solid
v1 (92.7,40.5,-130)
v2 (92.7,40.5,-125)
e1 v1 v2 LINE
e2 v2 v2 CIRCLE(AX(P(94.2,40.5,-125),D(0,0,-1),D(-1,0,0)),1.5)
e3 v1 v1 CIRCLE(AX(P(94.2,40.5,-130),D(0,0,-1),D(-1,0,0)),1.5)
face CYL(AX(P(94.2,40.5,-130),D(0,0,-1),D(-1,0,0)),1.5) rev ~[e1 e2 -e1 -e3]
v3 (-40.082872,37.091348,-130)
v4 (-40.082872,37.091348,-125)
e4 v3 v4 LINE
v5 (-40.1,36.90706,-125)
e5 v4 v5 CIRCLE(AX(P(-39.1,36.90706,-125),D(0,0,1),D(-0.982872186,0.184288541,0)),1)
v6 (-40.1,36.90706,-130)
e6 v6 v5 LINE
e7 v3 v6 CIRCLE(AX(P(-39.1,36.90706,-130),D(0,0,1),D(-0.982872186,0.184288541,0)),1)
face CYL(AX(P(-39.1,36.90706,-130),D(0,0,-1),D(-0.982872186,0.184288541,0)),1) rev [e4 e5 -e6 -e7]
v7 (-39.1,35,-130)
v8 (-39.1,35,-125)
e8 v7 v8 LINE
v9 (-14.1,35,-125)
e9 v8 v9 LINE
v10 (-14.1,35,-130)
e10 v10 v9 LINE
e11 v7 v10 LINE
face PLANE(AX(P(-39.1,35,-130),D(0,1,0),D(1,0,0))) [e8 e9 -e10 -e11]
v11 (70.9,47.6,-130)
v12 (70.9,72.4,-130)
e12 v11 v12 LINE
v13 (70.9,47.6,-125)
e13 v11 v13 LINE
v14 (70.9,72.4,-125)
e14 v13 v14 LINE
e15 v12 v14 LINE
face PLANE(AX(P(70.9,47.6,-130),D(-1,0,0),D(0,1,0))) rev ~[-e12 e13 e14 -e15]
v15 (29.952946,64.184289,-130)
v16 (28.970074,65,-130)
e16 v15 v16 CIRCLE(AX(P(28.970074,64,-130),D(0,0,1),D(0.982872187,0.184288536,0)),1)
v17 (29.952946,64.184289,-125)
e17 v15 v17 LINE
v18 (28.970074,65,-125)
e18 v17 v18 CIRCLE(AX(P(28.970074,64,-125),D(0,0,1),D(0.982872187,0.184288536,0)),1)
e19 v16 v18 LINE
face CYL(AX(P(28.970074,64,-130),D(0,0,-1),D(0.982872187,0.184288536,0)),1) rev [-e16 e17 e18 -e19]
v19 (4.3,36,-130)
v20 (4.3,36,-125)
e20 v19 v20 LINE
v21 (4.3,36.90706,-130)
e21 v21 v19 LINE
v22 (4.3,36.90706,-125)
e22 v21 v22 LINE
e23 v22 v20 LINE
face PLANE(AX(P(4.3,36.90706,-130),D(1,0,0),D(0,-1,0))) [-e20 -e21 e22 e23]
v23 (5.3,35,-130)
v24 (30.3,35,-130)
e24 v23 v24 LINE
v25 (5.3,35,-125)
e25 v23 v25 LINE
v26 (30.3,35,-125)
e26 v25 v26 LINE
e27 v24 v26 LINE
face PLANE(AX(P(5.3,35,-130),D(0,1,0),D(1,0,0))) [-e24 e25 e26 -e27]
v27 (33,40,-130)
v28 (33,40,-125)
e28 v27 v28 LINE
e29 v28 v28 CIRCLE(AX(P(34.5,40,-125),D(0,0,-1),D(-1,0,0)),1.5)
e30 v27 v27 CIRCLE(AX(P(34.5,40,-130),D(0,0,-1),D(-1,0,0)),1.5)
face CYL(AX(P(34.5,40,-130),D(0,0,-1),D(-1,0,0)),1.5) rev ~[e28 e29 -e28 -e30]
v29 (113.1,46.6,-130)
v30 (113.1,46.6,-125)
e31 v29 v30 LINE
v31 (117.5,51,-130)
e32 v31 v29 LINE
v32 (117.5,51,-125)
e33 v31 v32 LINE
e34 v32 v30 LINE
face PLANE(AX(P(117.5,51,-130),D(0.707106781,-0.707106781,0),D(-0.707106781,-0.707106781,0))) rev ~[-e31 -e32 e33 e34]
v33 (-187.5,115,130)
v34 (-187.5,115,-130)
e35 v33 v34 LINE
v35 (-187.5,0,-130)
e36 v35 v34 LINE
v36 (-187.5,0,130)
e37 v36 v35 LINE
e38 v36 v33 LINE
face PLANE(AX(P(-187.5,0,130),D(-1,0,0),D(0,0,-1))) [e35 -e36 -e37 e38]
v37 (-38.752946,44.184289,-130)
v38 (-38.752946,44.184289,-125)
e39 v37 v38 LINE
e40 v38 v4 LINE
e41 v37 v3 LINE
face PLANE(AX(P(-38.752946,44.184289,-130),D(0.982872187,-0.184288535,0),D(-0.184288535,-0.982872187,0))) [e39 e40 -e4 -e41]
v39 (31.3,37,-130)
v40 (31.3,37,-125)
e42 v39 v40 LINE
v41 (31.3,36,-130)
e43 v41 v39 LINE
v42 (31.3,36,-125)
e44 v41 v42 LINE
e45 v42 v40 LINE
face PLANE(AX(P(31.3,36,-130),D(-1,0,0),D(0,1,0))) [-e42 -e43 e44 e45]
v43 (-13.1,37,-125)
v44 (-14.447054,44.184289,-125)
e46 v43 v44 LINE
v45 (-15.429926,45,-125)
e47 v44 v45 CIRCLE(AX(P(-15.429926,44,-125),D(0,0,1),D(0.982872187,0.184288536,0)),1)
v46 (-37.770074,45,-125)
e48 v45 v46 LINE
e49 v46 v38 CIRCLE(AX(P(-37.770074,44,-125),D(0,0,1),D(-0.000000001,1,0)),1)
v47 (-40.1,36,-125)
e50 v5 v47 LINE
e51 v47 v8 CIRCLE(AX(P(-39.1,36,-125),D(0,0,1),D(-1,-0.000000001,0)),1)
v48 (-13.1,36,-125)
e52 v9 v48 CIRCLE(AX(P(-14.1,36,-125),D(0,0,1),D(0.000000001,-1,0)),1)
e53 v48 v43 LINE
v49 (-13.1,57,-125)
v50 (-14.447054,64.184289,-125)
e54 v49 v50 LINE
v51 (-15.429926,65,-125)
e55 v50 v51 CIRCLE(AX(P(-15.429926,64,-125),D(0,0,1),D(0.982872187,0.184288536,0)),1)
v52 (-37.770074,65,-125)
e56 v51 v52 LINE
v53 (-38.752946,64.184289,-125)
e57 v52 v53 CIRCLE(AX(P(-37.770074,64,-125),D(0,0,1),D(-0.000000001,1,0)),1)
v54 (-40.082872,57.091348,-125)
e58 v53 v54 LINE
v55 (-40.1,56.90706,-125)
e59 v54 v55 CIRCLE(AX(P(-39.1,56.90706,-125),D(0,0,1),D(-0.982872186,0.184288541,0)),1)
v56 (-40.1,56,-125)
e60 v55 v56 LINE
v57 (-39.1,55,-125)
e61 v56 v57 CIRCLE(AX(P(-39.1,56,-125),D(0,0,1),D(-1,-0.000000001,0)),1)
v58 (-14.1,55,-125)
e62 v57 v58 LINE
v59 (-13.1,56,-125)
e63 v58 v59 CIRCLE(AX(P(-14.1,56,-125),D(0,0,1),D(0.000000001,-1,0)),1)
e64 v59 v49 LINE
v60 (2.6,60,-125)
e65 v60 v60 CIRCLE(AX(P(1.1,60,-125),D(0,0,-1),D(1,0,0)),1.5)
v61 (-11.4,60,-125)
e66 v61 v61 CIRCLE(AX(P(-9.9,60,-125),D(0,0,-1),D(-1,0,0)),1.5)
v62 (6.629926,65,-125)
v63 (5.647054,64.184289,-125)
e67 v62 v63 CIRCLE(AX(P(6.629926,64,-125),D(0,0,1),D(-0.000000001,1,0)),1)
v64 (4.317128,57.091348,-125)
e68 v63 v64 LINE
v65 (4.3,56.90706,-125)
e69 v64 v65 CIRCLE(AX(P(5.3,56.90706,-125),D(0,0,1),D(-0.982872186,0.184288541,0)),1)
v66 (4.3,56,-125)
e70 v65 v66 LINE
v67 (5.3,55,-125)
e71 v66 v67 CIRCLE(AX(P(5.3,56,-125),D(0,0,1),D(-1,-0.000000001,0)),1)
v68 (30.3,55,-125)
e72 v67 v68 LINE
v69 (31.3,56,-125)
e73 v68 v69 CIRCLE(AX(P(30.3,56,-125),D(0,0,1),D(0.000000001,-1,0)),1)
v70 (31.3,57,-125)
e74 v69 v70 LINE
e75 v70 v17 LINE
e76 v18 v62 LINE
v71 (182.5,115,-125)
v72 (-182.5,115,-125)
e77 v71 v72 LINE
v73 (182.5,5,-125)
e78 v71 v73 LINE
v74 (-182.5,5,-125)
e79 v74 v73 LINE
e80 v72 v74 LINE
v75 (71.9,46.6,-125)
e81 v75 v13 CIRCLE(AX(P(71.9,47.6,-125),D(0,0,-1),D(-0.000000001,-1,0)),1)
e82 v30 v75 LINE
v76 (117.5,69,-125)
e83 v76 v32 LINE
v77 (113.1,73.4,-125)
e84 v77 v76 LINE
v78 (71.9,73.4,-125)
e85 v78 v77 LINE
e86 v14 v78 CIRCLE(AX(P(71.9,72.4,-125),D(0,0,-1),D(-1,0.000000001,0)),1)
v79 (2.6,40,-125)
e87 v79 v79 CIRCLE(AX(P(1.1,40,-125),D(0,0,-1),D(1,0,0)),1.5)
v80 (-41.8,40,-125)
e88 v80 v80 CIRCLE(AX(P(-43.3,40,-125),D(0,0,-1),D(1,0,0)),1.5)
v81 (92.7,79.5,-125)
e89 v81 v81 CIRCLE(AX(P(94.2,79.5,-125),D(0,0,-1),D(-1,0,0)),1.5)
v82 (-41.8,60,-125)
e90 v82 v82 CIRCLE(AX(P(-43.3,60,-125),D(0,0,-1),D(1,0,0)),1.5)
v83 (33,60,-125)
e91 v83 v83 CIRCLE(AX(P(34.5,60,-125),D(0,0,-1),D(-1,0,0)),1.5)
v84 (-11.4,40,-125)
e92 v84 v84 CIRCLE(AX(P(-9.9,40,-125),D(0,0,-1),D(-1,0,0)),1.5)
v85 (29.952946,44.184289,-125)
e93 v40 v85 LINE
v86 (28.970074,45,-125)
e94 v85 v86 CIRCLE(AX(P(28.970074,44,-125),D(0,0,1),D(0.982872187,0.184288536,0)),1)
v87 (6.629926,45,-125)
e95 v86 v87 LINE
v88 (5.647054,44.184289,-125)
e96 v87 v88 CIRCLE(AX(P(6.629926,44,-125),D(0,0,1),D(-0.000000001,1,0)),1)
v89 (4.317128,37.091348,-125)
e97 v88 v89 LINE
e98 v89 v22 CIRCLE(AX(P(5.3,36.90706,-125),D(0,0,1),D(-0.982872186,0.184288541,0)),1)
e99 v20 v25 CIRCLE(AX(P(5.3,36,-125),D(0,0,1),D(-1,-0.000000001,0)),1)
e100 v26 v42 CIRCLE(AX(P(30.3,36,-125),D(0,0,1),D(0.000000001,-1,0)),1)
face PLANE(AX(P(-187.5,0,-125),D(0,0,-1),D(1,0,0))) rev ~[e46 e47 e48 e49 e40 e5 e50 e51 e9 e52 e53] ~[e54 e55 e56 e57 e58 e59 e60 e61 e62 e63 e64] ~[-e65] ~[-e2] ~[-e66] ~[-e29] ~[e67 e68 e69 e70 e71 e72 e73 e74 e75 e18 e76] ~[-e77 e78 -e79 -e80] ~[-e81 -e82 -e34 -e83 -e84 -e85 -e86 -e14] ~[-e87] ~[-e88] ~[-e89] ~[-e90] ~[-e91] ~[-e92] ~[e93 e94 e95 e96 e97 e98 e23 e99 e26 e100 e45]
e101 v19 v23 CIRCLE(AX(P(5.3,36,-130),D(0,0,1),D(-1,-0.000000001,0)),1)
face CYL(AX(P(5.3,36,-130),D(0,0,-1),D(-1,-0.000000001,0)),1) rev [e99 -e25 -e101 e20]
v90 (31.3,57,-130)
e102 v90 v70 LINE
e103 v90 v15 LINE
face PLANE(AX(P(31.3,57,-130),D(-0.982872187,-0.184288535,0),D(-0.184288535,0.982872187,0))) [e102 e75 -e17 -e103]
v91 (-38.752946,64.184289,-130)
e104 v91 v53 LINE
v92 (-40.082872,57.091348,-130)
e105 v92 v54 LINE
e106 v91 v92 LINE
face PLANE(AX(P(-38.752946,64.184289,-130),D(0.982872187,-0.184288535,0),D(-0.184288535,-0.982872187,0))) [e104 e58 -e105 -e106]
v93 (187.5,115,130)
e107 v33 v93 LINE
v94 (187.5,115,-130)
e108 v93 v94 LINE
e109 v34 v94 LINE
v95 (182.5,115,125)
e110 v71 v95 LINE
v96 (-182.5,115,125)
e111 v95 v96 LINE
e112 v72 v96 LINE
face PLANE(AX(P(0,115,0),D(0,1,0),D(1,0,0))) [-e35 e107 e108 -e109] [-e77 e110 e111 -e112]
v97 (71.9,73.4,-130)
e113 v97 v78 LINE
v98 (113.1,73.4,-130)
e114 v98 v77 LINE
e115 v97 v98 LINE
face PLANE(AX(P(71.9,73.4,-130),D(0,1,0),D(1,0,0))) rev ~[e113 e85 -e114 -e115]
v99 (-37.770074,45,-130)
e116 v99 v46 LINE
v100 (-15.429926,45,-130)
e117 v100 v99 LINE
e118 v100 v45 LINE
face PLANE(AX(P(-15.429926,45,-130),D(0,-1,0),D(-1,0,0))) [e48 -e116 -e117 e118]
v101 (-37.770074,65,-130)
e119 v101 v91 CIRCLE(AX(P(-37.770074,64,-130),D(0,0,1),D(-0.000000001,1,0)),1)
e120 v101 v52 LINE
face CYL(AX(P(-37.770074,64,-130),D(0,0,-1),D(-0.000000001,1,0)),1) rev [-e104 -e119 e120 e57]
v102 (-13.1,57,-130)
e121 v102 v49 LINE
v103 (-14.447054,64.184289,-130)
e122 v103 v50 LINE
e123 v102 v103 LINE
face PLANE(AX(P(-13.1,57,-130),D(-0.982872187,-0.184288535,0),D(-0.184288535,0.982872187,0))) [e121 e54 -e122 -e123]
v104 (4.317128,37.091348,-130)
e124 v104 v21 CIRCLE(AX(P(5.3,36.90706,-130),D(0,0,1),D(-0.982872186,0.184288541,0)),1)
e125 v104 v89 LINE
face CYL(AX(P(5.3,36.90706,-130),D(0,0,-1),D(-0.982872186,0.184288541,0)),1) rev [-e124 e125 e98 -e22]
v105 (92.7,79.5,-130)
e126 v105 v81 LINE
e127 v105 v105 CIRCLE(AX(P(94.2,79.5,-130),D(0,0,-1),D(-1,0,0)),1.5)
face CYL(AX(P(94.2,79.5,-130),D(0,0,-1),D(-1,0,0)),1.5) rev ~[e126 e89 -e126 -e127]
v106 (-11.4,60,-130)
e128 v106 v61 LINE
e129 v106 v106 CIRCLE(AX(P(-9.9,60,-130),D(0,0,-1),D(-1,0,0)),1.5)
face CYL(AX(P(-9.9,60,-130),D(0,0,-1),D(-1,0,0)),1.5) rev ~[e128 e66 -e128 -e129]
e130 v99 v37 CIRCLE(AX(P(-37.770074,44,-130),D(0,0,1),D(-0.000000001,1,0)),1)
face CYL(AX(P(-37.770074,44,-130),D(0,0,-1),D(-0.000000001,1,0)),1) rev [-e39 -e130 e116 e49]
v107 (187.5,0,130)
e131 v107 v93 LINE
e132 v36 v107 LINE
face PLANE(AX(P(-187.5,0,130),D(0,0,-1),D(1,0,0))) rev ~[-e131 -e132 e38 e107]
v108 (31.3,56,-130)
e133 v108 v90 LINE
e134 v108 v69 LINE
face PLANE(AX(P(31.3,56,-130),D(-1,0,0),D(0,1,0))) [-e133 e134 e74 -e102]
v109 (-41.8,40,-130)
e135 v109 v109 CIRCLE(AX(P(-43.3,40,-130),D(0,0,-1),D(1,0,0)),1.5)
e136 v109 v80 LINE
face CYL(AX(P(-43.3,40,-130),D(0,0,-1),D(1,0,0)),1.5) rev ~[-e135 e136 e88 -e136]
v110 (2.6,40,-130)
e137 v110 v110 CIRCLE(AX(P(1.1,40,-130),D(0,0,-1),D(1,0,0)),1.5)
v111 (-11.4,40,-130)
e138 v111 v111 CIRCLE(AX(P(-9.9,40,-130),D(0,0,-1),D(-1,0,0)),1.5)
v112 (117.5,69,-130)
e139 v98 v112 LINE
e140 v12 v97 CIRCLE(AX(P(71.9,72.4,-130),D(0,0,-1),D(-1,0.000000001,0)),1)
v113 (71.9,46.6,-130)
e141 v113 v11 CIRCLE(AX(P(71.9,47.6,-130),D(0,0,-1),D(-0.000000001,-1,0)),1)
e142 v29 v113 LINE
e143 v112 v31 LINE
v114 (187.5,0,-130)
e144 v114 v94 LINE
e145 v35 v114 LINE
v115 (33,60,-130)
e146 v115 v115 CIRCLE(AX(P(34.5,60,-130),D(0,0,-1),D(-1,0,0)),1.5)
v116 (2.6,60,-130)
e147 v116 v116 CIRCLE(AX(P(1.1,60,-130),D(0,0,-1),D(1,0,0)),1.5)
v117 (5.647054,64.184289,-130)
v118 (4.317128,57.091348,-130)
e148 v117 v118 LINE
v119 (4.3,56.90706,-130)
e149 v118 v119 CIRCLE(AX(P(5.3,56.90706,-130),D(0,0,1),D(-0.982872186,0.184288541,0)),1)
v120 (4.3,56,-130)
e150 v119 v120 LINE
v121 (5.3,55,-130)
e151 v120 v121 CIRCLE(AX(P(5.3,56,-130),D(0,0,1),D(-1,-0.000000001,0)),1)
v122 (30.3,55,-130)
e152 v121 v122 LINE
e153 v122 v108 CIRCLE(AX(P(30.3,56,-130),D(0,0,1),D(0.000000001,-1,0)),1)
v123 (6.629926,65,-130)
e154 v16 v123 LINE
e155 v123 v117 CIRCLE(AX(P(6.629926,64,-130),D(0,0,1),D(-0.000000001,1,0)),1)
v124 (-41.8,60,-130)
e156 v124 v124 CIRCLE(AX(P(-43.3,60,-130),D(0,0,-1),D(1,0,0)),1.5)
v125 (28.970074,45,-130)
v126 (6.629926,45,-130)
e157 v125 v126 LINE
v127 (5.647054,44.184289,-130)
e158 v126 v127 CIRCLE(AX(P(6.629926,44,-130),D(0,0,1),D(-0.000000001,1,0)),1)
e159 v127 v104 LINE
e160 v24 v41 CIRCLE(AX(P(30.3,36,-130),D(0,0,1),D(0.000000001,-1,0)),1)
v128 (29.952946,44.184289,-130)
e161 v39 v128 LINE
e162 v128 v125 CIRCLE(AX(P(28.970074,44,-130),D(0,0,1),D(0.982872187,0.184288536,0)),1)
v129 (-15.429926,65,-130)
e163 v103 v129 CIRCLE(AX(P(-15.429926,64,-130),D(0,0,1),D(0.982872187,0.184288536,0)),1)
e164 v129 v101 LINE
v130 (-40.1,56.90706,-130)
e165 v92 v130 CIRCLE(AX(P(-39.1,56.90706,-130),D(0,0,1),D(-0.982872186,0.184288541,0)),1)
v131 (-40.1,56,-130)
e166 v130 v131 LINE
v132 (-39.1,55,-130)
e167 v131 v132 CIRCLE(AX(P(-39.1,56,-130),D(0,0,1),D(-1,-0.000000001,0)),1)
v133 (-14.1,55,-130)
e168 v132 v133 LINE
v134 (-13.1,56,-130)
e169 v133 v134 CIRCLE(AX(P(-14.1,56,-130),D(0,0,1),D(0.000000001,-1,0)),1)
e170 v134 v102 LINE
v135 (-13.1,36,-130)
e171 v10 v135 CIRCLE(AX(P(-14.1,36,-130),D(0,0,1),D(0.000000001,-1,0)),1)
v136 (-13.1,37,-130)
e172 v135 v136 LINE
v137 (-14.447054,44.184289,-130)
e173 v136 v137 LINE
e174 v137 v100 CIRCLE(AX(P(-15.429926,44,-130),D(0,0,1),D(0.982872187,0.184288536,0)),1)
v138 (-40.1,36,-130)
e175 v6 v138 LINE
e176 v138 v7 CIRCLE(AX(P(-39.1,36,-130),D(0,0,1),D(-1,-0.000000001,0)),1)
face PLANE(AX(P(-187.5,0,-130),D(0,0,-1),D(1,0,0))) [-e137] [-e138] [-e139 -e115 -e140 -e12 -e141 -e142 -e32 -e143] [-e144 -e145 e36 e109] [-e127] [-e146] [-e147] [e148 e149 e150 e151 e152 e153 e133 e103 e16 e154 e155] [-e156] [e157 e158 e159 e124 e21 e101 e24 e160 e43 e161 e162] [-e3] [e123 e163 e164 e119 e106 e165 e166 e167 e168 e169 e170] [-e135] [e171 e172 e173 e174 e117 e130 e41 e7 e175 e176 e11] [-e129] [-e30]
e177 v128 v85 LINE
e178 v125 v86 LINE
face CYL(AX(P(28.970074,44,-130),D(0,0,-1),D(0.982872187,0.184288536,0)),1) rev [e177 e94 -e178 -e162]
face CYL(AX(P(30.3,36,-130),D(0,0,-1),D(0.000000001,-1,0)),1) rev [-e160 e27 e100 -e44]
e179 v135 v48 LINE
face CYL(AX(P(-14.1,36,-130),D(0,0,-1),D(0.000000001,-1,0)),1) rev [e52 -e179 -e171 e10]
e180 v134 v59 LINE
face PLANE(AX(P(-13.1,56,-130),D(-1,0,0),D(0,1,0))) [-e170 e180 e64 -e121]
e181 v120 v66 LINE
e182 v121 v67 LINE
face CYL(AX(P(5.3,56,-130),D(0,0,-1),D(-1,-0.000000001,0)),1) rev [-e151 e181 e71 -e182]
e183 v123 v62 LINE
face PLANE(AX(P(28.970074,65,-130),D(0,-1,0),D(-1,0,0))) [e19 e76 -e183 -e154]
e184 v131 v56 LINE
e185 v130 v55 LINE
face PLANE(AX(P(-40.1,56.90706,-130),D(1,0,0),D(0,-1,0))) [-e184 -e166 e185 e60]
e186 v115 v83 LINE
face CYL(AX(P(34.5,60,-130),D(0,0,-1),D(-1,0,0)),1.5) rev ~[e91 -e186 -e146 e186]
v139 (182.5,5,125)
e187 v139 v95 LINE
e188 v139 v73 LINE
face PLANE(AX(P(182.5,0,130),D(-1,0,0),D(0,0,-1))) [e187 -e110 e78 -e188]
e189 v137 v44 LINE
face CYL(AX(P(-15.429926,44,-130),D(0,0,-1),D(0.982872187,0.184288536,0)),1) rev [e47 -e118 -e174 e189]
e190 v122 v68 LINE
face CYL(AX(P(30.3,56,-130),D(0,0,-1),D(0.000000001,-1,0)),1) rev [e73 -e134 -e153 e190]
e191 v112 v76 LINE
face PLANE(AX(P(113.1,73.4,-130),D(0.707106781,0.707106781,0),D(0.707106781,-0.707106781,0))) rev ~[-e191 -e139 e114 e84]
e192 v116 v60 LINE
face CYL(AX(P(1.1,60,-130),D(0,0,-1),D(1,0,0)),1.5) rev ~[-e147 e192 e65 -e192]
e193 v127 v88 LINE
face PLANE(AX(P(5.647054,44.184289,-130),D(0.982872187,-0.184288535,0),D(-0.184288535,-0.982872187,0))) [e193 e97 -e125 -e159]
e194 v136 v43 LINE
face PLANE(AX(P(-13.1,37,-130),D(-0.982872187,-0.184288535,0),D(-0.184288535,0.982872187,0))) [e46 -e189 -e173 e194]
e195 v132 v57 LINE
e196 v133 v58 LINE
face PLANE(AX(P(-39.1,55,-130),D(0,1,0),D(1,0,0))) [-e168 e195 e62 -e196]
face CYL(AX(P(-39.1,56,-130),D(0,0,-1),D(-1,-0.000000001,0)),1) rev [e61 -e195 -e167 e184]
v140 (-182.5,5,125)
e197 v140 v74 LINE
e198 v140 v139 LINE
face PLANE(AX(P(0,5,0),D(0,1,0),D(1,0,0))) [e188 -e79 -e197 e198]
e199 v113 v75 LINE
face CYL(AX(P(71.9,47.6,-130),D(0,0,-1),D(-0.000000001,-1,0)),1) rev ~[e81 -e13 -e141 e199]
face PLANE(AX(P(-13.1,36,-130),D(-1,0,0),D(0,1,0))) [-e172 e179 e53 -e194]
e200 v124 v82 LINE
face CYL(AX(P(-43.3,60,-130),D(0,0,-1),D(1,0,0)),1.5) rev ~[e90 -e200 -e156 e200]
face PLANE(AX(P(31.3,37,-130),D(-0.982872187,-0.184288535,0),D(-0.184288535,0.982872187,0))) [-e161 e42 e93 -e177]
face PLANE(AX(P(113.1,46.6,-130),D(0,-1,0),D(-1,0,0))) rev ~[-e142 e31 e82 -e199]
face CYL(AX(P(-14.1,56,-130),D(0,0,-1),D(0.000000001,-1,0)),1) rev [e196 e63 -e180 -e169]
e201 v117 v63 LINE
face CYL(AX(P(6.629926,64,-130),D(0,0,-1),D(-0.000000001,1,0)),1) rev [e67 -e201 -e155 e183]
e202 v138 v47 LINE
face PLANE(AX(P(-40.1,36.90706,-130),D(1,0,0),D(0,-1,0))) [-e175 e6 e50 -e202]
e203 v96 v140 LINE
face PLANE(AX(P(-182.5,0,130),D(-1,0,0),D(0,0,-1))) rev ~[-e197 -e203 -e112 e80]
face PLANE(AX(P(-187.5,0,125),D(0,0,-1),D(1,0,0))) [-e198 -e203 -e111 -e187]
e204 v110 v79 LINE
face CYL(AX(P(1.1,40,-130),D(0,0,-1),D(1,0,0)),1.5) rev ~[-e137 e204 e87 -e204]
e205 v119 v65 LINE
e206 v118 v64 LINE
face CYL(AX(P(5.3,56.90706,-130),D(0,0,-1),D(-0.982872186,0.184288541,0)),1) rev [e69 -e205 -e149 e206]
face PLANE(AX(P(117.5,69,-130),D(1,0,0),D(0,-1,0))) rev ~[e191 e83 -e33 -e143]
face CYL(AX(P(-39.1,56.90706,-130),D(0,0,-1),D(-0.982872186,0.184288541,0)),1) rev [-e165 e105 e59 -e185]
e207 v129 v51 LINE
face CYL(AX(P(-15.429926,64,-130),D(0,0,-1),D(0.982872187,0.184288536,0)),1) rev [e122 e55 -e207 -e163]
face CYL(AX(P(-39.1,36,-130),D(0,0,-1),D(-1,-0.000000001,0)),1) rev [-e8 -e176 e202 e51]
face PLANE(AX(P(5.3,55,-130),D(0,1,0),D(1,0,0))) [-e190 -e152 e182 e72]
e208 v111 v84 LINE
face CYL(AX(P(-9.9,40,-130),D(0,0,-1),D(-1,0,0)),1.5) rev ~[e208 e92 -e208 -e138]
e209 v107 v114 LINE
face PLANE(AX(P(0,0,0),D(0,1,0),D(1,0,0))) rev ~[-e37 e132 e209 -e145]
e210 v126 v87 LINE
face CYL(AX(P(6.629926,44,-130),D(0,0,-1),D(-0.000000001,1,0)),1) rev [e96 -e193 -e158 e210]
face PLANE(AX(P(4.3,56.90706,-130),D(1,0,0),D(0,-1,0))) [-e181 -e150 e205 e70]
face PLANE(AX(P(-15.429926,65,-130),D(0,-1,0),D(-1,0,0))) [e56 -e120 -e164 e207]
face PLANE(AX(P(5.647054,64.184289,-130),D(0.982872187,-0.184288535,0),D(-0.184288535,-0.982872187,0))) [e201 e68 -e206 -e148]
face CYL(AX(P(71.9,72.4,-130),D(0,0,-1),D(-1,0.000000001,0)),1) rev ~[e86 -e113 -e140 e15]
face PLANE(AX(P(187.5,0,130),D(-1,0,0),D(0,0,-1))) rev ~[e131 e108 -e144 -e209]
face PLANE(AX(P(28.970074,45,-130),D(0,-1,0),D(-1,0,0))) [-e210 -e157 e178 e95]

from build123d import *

# Parameters (mm, degrees)
SKETCH_1_W          = 375
SKETCH_1_H          = 260
EXTRUDE_1_DEPTH     = 115
SHELL_1_T           = -5
SKETCH_2_R          = 1.5
CUT_EXTRUDE_1_DEPTH = 5


with BuildPart() as part:
    # Эскиз1 → Бобышка-Вытянуть1 (new body)
    with BuildSketch(Plane(origin=(0, 0, 0), x_dir=(1, 0, 0), z_dir=(0, 1, 0))):
        Rectangle(SKETCH_1_W, SKETCH_1_H)
    extrude(amount=EXTRUDE_1_DEPTH)

    # Оболочка1
    shell_1_openings = [part.faces().sort_by_distance(p)[0] for p in [
        (0, 115, 0),
    ]]
    offset(amount=SHELL_1_T, openings=shell_1_openings, kind=Kind.INTERSECTION)

    # Эскиз2 → Вырез-Вытянуть1 (cut)
    with BuildSketch(Plane(origin=(0, 0, -130), x_dir=(-1, 0, 0), z_dir=(0, 0, -1))):
        with Locations((-34.5, 60)):
            Circle(SKETCH_2_R)
        with Locations(Location((-1.1, 60, 0), (0, 0, 180))):
            Circle(SKETCH_2_R)
        with Locations((9.9, 60)):
            Circle(SKETCH_2_R)
        with Locations(Location((43.3, 60, 0), (0, 0, 180))):
            Circle(SKETCH_2_R)
        with Locations((-34.5, 40)):
            Circle(SKETCH_2_R)
        with Locations(Location((-1.1, 40, 0), (0, 0, 180))):
            Circle(SKETCH_2_R)
        with Locations((9.9, 40)):
            Circle(SKETCH_2_R)
        with Locations(Location((43.3, 40, 0), (0, 0, 180))):
            Circle(SKETCH_2_R)
        with Locations((-94.2, 40.5)):
            Circle(SKETCH_2_R)
        with Locations((-94.2, 79.5)):
            Circle(SKETCH_2_R)
        with BuildLine():
            Line((-31.3, 57), (-29.9529459, 64.184288535))
            ThreePointArc((-29.9529459, 64.184288535), (-29.60870955, 64.769509108), (-28.970073713, 65))
            Line((-28.970073713, 65), (-6.629926287, 65))
            ThreePointArc((-6.629926287, 65), (-5.99129045, 64.769509108), (-5.6470541, 64.184288535))
            Line((-5.6470541, 64.184288535), (-4.317127813, 57.091348336))
            ThreePointArc((-4.317127813, 57.091348336), (-4.30429116, 56.999601179), (-4.3, 56.907059801))
            Line((-4.3, 56.907059801), (-4.3, 56))
            ThreePointArc((-4.3, 56), (-4.592893219, 55.292893219), (-5.3, 55))
            Line((-5.3, 55), (-30.3, 55))
            ThreePointArc((-30.3, 55), (-31.007106781, 55.292893219), (-31.3, 56))
            Line((-31.3, 56), (-31.3, 57))
        make_face()
        with BuildLine():
            Line((13.1, 57), (14.4470541, 64.184288535))
            ThreePointArc((14.4470541, 64.184288535), (14.79129045, 64.769509108), (15.429926287, 65))
            Line((15.429926287, 65), (37.770073713, 65))
            ThreePointArc((37.770073713, 65), (38.40870955, 64.769509108), (38.7529459, 64.184288535))
            Line((38.7529459, 64.184288535), (40.082872187, 57.091348336))
            ThreePointArc((40.082872187, 57.091348336), (40.09570884, 56.999601179), (40.1, 56.907059801))
            Line((40.1, 56.907059801), (40.1, 56))
            ThreePointArc((40.1, 56), (39.807106781, 55.292893219), (39.1, 55))
            Line((39.1, 55), (14.1, 55))
            ThreePointArc((14.1, 55), (13.392893219, 55.292893219), (13.1, 56))
            Line((13.1, 56), (13.1, 57))
        make_face()
        with BuildLine():
            Line((-31.3, 37), (-29.9529459, 44.184288535))
            ThreePointArc((-29.9529459, 44.184288535), (-29.60870955, 44.769509108), (-28.970073713, 45))
            Line((-28.970073713, 45), (-6.629926287, 45))
            ThreePointArc((-6.629926287, 45), (-5.99129045, 44.769509108), (-5.6470541, 44.184288535))
            Line((-5.6470541, 44.184288535), (-4.317127813, 37.091348336))
            ThreePointArc((-4.317127813, 37.091348336), (-4.30429116, 36.999601179), (-4.3, 36.907059801))
            Line((-4.3, 36.907059801), (-4.3, 36))
            ThreePointArc((-4.3, 36), (-4.592893219, 35.292893219), (-5.3, 35))
            Line((-5.3, 35), (-30.3, 35))
            ThreePointArc((-30.3, 35), (-31.007106781, 35.292893219), (-31.3, 36))
            Line((-31.3, 36), (-31.3, 37))
        make_face()
        with BuildLine():
            Line((13.1, 37), (14.4470541, 44.184288535))
            ThreePointArc((14.4470541, 44.184288535), (14.79129045, 44.769509108), (15.429926287, 45))
            Line((15.429926287, 45), (37.770073713, 45))
            ThreePointArc((37.770073713, 45), (38.40870955, 44.769509108), (38.7529459, 44.184288535))
            Line((38.7529459, 44.184288535), (40.082872187, 37.091348336))
            ThreePointArc((40.082872187, 37.091348336), (40.09570884, 36.999601179), (40.1, 36.907059801))
            Line((40.1, 36.907059801), (40.1, 36))
            ThreePointArc((40.1, 36), (39.807106781, 35.292893219), (39.1, 35))
            Line((39.1, 35), (14.1, 35))
            ThreePointArc((14.1, 35), (13.392893219, 35.292893219), (13.1, 36))
            Line((13.1, 36), (13.1, 37))
        make_face()
        with BuildLine():
            Line((-113.1, 46.6), (-71.9, 46.6))
            ThreePointArc((-71.9, 46.6), (-71.192893219, 46.892893219), (-70.9, 47.6))
            Line((-70.9, 47.6), (-70.9, 72.4))
            ThreePointArc((-70.9, 72.4), (-71.192893219, 73.107106781), (-71.9, 73.4))
            Line((-71.9, 73.4), (-113.1, 73.4))
            Line((-113.1, 73.4), (-117.5, 69))
            Line((-117.5, 69), (-117.5, 51))
            Line((-117.5, 51), (-113.1, 46.6))
        make_face()
    extrude(amount=-CUT_EXTRUDE_1_DEPTH, mode=Mode.SUBTRACT)


solid = part.part
